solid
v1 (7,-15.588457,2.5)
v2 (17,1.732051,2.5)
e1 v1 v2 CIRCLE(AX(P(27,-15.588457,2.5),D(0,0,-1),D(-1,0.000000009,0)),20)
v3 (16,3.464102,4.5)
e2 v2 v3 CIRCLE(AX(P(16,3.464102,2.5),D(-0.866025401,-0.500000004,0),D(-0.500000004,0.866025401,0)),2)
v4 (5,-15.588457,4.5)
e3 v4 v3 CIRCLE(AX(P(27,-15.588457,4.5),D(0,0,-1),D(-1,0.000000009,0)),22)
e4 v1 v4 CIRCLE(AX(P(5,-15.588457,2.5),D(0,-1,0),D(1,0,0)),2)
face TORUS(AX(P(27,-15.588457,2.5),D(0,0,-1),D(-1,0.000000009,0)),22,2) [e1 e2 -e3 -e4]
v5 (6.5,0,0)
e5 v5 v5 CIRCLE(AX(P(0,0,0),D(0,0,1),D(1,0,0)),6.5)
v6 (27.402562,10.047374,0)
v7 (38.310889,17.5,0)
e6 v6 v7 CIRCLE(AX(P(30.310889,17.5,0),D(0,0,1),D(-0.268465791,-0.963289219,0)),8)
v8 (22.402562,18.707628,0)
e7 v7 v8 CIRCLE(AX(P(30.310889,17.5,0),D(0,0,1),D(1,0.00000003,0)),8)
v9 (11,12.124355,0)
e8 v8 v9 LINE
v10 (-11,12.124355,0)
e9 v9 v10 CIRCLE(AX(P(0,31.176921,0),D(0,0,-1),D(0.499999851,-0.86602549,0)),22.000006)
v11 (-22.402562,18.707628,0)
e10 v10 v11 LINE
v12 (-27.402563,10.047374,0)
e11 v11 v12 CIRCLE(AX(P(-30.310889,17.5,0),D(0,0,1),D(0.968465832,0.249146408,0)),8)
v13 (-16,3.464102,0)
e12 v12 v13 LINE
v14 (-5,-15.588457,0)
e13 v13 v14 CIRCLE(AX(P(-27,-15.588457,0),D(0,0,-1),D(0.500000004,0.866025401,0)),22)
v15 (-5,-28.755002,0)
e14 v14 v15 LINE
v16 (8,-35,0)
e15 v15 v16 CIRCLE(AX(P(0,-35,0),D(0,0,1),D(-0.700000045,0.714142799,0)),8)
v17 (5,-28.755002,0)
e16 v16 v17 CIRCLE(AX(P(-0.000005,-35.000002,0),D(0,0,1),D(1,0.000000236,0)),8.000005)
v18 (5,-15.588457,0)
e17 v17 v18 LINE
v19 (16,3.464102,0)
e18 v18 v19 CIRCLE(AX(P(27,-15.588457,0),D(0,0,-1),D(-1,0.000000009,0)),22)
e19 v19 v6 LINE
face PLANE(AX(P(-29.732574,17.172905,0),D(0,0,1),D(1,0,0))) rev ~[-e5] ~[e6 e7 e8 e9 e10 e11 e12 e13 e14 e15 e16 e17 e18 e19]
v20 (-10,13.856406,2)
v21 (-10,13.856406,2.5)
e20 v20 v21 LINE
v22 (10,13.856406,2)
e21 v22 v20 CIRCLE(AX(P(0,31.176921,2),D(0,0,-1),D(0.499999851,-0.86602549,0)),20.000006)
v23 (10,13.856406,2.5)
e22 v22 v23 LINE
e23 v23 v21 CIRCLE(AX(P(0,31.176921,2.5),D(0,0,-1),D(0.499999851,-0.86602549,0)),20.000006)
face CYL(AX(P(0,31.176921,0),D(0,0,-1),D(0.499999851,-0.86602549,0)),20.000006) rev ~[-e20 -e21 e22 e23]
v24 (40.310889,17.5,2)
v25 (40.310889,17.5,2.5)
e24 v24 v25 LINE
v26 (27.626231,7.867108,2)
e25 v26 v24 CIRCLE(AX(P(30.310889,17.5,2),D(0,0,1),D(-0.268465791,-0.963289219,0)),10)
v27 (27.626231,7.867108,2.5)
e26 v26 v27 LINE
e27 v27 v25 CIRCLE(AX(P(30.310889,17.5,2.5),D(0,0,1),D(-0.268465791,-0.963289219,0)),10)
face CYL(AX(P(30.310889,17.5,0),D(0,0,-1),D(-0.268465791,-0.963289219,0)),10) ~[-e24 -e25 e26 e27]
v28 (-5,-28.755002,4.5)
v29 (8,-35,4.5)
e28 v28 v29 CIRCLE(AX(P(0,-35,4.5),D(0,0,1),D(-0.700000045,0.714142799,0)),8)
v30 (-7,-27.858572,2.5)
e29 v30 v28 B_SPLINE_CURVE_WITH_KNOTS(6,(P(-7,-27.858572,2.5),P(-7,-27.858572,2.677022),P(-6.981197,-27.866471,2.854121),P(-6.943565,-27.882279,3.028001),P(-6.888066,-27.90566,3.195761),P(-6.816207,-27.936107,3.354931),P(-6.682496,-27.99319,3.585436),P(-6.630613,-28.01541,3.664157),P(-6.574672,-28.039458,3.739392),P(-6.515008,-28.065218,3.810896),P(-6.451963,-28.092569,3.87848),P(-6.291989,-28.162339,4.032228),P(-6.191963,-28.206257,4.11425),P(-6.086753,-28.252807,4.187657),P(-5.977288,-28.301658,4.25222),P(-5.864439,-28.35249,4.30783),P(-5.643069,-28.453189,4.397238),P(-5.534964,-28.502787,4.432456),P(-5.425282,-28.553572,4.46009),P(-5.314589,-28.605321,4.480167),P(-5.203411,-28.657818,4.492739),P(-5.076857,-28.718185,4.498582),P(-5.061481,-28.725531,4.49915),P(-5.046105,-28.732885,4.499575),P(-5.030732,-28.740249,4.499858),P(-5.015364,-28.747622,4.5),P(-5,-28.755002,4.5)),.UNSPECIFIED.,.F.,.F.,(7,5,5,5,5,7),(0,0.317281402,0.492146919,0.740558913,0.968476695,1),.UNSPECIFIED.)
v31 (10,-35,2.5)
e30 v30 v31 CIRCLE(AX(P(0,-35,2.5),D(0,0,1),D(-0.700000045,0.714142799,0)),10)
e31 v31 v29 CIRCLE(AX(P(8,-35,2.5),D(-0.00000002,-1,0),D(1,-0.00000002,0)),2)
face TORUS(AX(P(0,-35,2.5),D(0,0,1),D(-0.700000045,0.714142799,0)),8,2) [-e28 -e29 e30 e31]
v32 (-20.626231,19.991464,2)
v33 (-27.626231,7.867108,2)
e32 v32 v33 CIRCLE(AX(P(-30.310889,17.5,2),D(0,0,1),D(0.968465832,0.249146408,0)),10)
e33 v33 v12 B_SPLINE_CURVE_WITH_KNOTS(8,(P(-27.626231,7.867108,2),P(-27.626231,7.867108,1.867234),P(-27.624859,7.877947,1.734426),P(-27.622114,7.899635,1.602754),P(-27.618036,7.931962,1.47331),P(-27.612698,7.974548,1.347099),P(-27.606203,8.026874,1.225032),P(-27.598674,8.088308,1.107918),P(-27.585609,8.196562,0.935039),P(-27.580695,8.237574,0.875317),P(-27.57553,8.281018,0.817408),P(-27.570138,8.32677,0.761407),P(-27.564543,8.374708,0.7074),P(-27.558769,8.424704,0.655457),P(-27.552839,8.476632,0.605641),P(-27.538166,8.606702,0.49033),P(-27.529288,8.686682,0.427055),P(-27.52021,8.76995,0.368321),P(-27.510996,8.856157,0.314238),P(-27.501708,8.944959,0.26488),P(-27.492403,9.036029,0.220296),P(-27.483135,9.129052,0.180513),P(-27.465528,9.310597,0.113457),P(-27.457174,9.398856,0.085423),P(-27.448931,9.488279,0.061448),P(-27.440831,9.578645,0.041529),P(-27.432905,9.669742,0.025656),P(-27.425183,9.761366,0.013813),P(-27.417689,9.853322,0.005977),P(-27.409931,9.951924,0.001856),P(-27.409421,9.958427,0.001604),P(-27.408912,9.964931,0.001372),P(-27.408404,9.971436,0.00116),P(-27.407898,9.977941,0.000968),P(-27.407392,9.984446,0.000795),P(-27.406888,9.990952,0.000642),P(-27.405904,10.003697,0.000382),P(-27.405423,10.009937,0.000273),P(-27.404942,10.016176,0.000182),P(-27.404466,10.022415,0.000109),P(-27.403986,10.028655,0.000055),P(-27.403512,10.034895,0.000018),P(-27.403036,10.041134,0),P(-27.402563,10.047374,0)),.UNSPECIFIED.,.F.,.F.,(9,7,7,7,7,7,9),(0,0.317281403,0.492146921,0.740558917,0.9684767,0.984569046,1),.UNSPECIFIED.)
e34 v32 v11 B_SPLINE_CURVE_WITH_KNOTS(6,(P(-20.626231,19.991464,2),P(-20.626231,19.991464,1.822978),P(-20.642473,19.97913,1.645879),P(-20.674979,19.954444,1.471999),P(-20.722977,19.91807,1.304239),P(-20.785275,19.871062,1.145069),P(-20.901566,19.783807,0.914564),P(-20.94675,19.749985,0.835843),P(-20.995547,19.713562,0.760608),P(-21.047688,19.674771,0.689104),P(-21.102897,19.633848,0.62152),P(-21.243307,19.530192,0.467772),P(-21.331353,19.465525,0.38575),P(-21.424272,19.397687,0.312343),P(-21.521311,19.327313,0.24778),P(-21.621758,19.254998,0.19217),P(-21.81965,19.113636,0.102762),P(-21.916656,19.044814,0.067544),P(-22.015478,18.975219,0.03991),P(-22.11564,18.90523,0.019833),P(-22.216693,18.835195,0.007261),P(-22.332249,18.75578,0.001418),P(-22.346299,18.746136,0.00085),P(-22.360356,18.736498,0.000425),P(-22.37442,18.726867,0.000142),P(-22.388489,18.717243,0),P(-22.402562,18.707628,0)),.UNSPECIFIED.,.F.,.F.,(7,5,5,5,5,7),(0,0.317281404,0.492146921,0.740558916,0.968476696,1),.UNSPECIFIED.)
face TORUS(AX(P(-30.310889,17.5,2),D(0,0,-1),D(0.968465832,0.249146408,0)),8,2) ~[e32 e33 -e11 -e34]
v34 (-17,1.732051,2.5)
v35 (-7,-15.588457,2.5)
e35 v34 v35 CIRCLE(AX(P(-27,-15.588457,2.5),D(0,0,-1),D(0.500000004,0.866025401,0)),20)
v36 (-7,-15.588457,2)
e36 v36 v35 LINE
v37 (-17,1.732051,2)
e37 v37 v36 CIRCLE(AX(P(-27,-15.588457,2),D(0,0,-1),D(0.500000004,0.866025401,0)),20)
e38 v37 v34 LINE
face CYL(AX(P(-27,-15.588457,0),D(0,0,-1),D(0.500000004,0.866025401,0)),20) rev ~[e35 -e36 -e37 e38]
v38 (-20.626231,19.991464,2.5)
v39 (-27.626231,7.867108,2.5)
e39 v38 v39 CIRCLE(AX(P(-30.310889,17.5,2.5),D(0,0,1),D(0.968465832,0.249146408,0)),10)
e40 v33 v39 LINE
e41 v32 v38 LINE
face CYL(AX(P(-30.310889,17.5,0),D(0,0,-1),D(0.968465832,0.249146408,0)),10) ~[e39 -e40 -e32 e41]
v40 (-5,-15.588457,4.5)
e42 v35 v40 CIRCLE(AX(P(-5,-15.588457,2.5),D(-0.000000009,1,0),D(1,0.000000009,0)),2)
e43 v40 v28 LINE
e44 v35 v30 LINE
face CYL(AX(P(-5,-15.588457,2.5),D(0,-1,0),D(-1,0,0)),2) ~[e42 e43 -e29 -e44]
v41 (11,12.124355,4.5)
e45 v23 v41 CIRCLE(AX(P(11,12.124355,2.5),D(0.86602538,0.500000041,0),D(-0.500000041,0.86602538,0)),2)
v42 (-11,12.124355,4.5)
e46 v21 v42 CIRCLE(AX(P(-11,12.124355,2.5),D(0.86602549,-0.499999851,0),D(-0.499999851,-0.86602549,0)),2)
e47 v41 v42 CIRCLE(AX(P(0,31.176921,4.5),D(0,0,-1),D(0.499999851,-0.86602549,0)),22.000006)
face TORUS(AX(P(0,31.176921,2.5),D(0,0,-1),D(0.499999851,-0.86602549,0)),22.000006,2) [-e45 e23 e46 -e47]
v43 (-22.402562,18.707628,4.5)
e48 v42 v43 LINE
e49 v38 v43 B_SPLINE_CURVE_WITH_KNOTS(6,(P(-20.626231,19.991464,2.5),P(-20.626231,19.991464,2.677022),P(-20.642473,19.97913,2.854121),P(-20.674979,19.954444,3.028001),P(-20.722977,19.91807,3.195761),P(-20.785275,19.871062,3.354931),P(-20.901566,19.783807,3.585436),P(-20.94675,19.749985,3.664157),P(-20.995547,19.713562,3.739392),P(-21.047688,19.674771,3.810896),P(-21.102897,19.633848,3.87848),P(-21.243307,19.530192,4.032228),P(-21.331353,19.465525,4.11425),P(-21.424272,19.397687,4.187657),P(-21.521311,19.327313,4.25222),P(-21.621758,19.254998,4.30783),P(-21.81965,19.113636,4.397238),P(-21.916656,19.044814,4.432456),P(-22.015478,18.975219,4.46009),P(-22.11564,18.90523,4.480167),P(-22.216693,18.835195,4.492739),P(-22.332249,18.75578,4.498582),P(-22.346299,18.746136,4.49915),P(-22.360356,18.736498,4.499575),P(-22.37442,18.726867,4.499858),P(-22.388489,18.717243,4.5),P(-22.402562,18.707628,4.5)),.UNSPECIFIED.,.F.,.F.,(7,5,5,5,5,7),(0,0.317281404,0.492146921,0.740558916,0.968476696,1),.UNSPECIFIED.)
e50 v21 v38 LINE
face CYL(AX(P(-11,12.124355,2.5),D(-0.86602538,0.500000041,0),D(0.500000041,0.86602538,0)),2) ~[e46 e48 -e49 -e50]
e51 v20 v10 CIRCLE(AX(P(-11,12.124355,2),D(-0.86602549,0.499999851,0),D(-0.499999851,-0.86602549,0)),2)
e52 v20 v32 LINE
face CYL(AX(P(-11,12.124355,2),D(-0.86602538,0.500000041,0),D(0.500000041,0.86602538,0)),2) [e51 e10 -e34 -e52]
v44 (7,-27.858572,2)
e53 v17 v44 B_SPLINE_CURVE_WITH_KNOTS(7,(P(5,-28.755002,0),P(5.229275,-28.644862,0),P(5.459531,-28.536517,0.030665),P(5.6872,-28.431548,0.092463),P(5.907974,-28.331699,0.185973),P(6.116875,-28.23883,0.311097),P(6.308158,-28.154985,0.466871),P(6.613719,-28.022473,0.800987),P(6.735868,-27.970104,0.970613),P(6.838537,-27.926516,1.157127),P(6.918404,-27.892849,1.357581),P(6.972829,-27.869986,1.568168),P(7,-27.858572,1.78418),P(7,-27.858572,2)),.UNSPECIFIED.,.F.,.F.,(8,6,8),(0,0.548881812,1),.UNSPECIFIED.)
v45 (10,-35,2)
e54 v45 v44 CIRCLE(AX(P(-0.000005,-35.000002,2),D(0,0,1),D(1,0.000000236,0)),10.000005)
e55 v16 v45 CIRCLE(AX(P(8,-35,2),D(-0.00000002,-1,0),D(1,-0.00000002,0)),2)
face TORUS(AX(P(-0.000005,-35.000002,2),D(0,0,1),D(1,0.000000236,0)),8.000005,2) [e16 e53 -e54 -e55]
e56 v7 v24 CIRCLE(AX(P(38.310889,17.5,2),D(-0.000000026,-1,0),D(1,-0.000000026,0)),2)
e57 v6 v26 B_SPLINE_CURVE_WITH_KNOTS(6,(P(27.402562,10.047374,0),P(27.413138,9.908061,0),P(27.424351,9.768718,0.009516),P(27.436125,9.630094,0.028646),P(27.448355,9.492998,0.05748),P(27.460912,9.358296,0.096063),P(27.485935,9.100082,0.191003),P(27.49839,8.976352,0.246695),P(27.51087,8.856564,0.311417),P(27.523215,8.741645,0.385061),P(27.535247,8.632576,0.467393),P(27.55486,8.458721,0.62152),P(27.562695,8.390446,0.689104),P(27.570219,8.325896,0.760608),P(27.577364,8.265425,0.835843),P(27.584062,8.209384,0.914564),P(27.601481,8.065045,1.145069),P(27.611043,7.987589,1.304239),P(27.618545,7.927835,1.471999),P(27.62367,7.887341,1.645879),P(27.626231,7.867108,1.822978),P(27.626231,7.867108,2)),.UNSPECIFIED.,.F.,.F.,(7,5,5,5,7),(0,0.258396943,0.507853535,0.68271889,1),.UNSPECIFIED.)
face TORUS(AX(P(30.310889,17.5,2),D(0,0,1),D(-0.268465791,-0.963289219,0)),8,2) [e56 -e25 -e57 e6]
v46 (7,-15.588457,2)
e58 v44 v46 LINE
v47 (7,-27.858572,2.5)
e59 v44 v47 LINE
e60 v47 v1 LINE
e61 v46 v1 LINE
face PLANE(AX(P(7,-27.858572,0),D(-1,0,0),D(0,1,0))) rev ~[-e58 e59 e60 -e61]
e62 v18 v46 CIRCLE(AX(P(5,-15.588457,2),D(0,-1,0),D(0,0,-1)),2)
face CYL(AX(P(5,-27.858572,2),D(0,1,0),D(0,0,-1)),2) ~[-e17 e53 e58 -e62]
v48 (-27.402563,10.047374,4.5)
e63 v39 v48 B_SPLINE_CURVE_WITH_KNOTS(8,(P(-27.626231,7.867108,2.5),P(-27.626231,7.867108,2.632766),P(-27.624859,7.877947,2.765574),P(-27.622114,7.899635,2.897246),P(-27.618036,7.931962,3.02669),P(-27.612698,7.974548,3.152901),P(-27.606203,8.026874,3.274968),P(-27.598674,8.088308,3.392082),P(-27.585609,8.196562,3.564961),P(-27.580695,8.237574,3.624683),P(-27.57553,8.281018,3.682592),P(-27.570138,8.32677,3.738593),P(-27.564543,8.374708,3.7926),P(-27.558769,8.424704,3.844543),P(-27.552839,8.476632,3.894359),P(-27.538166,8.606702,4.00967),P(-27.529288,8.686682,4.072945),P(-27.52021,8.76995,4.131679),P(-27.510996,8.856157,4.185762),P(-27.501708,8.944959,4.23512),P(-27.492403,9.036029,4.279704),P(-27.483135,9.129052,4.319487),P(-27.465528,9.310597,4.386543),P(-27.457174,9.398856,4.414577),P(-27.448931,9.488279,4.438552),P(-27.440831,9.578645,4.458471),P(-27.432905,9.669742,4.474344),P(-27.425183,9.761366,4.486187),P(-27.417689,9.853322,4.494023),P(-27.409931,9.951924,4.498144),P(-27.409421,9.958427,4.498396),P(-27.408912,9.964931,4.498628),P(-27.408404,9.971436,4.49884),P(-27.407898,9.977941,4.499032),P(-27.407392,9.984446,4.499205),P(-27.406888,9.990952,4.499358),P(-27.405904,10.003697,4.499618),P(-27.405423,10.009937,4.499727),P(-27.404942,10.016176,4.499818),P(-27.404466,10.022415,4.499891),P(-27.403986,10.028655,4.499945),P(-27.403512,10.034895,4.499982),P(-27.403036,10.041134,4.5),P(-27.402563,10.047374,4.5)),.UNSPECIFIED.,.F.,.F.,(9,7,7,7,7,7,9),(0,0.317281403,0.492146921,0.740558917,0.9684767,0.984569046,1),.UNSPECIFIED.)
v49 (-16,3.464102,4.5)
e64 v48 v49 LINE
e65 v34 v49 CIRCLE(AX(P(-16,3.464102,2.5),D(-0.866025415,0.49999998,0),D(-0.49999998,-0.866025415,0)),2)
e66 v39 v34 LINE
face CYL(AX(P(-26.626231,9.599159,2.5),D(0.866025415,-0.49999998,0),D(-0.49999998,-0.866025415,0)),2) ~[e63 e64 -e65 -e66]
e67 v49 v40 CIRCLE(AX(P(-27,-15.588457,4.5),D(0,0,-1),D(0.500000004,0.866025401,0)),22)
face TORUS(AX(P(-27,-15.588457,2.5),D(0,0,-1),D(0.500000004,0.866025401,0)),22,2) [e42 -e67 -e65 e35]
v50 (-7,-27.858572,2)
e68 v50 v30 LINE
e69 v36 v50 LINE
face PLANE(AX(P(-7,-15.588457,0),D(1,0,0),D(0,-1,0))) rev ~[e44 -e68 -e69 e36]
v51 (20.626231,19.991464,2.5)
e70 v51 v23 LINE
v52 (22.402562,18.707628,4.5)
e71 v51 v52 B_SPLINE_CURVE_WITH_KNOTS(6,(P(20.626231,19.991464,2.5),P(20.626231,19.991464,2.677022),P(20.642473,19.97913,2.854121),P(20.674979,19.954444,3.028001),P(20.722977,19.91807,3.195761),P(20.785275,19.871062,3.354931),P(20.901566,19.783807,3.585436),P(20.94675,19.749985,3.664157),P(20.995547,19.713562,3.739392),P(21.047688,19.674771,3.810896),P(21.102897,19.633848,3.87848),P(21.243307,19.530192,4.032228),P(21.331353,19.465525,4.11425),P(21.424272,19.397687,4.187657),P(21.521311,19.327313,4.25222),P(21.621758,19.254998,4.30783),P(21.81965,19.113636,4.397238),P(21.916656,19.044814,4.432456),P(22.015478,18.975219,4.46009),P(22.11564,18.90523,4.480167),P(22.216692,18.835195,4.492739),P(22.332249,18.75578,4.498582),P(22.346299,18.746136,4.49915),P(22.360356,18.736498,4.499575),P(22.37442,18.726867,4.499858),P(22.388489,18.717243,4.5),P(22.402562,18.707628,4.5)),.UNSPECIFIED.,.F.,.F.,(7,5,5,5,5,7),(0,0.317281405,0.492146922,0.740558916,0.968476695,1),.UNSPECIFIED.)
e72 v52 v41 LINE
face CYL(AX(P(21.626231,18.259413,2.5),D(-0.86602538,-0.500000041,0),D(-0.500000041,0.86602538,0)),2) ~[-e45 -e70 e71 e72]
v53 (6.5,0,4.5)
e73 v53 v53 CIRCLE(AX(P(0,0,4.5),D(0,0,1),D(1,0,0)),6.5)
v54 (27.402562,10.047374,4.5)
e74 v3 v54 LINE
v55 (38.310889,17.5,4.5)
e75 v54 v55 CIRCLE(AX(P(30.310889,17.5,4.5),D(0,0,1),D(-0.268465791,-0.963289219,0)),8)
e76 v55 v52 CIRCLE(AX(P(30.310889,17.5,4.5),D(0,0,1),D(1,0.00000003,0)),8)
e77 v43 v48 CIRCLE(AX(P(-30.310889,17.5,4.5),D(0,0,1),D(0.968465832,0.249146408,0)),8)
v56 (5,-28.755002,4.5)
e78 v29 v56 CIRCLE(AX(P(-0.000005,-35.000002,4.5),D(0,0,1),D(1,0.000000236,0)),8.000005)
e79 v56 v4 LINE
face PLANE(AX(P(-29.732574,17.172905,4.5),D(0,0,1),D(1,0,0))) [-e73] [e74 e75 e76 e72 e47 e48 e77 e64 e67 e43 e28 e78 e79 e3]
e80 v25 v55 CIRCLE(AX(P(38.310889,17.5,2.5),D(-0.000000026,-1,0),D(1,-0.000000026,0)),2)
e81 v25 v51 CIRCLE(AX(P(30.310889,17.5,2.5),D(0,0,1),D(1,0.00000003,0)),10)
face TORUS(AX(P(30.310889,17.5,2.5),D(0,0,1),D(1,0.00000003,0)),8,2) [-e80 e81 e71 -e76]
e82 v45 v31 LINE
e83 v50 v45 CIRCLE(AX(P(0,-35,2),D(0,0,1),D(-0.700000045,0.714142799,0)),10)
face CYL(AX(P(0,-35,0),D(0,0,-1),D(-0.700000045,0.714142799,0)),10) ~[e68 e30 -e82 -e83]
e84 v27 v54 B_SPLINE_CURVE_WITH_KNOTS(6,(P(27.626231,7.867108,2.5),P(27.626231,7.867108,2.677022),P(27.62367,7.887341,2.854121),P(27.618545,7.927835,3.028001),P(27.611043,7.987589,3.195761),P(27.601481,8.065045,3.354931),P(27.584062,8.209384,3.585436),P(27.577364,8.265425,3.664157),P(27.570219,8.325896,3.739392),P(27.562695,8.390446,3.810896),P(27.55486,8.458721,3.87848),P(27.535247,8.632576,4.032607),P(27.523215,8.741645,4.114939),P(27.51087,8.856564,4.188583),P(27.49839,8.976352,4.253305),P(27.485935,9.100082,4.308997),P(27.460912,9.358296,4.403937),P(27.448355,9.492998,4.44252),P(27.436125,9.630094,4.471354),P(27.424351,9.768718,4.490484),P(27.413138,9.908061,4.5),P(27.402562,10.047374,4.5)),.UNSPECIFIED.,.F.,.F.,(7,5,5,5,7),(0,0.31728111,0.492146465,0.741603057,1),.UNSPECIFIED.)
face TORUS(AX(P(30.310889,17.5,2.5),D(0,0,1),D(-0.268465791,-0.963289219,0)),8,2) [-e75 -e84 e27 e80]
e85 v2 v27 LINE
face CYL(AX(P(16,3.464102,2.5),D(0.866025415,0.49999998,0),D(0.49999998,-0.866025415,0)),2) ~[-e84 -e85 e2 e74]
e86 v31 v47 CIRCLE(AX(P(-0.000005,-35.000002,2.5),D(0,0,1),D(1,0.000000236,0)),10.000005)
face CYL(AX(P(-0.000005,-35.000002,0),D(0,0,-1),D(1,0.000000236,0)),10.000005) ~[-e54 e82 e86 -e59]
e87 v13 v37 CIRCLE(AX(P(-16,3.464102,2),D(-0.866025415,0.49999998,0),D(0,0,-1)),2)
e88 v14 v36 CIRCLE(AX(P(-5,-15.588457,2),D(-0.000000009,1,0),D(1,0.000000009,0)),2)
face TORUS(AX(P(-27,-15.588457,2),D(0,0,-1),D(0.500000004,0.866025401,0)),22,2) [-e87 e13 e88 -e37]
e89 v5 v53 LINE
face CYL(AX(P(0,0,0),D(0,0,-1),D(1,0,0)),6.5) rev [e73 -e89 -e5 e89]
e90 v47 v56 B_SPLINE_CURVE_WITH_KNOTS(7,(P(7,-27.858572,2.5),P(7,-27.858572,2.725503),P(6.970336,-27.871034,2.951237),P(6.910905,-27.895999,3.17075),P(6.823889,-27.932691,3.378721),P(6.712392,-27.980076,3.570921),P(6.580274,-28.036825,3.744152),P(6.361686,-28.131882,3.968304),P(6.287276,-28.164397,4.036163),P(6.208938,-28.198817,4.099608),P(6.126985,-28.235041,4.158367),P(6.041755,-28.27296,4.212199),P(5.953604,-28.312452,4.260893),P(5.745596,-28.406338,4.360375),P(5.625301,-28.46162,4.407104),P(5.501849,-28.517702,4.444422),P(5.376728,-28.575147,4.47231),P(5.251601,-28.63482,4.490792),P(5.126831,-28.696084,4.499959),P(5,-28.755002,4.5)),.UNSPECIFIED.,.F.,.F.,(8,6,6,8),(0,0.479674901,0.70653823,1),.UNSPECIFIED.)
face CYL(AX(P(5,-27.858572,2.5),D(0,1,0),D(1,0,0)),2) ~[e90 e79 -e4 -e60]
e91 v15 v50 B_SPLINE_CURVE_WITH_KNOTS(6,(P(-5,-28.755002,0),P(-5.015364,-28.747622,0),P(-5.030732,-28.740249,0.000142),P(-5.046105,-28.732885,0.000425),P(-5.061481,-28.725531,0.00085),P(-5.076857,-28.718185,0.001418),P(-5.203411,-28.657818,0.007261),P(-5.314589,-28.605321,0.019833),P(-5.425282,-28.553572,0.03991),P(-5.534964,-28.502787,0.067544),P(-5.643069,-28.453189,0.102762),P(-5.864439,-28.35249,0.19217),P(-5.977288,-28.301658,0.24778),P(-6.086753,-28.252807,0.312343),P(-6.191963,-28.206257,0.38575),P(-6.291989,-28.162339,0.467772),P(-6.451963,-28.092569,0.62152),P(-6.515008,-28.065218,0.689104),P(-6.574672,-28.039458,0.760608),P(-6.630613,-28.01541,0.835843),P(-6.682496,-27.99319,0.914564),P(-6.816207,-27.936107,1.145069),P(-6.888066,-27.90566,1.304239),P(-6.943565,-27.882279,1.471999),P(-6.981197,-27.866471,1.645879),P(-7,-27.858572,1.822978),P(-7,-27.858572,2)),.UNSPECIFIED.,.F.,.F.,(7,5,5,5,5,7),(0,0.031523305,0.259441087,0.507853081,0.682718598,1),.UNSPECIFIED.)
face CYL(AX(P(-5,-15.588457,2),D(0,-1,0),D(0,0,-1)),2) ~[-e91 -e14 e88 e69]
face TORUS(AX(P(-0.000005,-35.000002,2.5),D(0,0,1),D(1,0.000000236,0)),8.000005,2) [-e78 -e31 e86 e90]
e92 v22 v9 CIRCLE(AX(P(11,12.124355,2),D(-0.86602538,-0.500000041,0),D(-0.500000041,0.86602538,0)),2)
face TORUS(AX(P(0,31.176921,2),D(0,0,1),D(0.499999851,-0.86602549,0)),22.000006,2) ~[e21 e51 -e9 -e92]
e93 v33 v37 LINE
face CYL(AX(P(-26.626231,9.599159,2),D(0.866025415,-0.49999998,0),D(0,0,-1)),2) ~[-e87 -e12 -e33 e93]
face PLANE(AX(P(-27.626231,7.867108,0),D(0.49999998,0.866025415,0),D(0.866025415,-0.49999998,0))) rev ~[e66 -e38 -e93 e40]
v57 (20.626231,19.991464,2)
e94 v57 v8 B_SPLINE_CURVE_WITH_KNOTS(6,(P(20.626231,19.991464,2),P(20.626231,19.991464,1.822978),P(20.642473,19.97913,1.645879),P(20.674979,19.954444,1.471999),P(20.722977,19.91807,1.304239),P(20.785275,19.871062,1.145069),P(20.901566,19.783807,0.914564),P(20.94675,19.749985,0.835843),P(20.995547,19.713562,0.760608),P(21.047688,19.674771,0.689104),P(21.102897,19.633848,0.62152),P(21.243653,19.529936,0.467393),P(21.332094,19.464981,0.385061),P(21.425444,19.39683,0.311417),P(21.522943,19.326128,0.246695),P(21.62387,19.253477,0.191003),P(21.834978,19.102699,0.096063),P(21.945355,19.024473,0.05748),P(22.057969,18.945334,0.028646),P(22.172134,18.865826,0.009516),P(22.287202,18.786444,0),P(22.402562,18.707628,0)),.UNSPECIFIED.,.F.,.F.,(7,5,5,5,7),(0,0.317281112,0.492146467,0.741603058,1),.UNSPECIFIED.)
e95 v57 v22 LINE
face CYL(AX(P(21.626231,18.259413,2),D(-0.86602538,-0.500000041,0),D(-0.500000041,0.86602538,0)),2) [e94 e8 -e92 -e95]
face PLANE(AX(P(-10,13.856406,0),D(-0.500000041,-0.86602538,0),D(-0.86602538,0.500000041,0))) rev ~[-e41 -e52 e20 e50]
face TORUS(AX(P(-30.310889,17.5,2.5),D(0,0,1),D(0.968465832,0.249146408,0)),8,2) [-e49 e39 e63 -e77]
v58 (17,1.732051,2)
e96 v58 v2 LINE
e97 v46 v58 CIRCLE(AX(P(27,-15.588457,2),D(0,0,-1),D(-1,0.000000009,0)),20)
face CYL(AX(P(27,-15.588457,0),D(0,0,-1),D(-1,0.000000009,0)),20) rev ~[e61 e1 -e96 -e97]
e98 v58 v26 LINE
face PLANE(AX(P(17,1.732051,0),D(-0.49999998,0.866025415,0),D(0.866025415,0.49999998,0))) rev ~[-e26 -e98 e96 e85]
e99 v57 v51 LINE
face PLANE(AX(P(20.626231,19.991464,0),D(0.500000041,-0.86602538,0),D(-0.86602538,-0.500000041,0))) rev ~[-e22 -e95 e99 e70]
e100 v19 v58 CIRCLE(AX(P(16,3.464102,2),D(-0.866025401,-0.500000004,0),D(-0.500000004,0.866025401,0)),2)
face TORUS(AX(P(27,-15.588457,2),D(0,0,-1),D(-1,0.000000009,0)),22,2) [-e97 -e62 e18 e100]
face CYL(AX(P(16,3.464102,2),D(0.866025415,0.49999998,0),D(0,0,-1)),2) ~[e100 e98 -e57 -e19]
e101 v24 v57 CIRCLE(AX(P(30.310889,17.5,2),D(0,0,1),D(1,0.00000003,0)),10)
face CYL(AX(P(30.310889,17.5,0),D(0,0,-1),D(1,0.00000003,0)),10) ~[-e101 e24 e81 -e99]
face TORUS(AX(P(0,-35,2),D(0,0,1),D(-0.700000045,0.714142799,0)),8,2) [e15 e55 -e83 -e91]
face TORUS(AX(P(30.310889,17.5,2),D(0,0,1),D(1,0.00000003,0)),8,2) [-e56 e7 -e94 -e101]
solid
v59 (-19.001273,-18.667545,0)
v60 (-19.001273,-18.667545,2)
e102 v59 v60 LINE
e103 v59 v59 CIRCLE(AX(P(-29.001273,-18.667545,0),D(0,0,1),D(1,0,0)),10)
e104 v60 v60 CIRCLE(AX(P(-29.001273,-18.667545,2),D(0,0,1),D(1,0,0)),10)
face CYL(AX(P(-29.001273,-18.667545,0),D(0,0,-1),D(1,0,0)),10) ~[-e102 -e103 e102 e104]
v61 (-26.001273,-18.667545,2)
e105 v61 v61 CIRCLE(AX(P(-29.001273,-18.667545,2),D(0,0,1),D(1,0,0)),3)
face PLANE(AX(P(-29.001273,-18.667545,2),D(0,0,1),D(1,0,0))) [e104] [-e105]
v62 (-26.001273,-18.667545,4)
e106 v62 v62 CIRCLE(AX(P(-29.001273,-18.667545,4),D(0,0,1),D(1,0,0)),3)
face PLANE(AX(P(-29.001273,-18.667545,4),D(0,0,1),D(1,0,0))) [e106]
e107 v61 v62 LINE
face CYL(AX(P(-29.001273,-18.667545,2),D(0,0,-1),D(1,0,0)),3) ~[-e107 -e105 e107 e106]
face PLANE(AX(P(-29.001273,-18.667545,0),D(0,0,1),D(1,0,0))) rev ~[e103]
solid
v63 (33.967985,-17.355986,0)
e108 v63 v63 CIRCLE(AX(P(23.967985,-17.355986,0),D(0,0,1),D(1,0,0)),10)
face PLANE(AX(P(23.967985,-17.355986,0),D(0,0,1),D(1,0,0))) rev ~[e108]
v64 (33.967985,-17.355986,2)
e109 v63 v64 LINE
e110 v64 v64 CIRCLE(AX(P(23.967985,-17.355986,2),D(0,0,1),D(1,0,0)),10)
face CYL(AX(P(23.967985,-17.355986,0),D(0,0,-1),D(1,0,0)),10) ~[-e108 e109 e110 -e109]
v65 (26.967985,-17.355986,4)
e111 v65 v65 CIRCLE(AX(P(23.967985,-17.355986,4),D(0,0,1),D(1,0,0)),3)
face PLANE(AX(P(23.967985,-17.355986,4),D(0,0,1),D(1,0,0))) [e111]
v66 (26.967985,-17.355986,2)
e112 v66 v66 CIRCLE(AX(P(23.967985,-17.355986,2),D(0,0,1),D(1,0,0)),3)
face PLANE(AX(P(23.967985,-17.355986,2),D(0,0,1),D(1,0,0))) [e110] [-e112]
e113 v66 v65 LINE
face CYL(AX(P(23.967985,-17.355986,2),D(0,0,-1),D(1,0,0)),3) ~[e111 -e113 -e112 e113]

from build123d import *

# Parameters (mm, degrees)
F0_R     = 6.5
F1_DEPTH = 4.5
F2_R     = 2
F3_R     = 2
F0_R_2   = 10
F4_DEPTH = 2
F5_R     = 3
F6_DEPTH = 2
F7_R     = 3
F8_DEPTH = 2


with BuildPart() as f1:
    # F0 (on Top) → F1 (new body)
    with BuildSketch(Plane.XY):
        with BuildLine():
            ThreePointArc((-20.310889, 17.5), (-20.390038, 18.75567), (-20.626231, 19.991464))
            ThreePointArc((-20.626231, 19.991464), (-38.971143, 22.5), (-27.626231, 7.867108))
            ThreePointArc((-27.626231, 7.867108), (-22.347015, 11.452132), (-20.310889, 17.5))
        make_face()
        with BuildLine():
            ThreePointArc((10, -35), (9.219544, -31.127017), (7, -27.858572))
            ThreePointArc((7, -27.858572), (0, -25), (-7, -27.858572))
            ThreePointArc((-7, -27.858572), (-3.872983, -44.219544), (10, -35))
        make_face()
        with BuildLine():
            ThreePointArc((27.626231, 7.867108), (36.358757, 9.536126), (40.310889, 17.5))
            ThreePointArc((40.310889, 17.5), (31.566559, 27.420851), (20.626231, 19.991464))
            ThreePointArc((20.626231, 19.991464), (21.650635, 12.5), (27.626231, 7.867108))
        make_face()
        with BuildLine():
            ThreePointArc((27.626231, 7.867108), (21.650635, 12.5), (20.626231, 19.991464))
            Line((20.626231, 19.991464), (10, 13.856406))
            ThreePointArc((10, 13.856406), (0, 11.176915), (-10, 13.856406))
            Line((-10, 13.856406), (-20.626231, 19.991464))
            ThreePointArc((-20.626231, 19.991464), (-20.390038, 18.75567), (-20.310889, 17.5))
            ThreePointArc((-20.310889, 17.5), (-22.347015, 11.452132), (-27.626231, 7.867108))
            Line((-27.626231, 7.867108), (-17, 1.732051))
            ThreePointArc((-17, 1.732051), (-9.679492, -5.588457), (-7, -15.588457))
            Line((-7, -15.588457), (-7, -27.858572))
            ThreePointArc((-7, -27.858572), (0, -25), (7, -27.858572))
            Line((7, -27.858572), (7, -15.588457))
            ThreePointArc((7, -15.588457), (9.679492, -5.588457), (17, 1.732051))
            Line((17, 1.732051), (27.626231, 7.867108))
        make_face()
        Circle(F0_R, mode=Mode.SUBTRACT)
    extrude(amount=F1_DEPTH)

    # F2
    f2_edges = [f1.edges().sort_by_distance(p)[0] for p in [
        (-3.872983, -44.219544, 4.5),
        (7, -21.723514, 4.5),
        (9.679492, -5.588457, 4.5),
        (22.313115, 4.799579, 4.5),
        (38.971143, 22.5, 4.5),
        (15.313115, 16.923935, 4.5),
        (0, 11.176915, 4.5),
        (-15.313115, 16.923935, 4.5),
        (-38.971143, 22.5, 4.5),
        (-22.313115, 4.799579, 4.5),
        (-9.679492, -5.588457, 4.5),
        (-7, -21.723514, 4.5),
    ]]
    fillet(f2_edges, radius=F2_R)

    # F3
    f3_edges = [f1.edges().sort_by_distance(p)[0] for p in [
        (-38.971143, 22.5, 0),
        (-22.313115, 4.799579, 0),
        (-9.679492, -5.588457, 0),
        (-7, -21.723514, 0),
        (-3.872983, -44.219544, 0),
        (7, -21.723514, 0),
        (9.679492, -5.588457, 0),
        (-15.313115, 16.923935, 0),
        (0, 11.176915, 0),
        (15.313115, 16.923935, 0),
        (22.313115, 4.799579, 0),
        (38.971143, 22.5, 0),
    ]]
    fillet(f3_edges, radius=F3_R)


with BuildPart() as f4:
    # F0 (on Top) → F4 (new body)
    with BuildSketch(Plane.XY):
        with Locations((-29.001273, -18.667545)):
            Circle(F0_R_2)
        with Locations((23.967985, -17.355986)):
            Circle(F0_R_2)
    extrude(amount=F4_DEPTH)

    # F5 (on face) → F6 (join)
    with BuildSketch(Plane.XY.offset(2)):
        with Locations((-29.001273, -18.667545)):
            Circle(F5_R)
    extrude(amount=F6_DEPTH)

    # F7 (on face) → F8 (join)
    with BuildSketch(Plane.XY.offset(2)):
        with Locations((23.967985, -17.355986)):
            Circle(F7_R)
    extrude(amount=F8_DEPTH)


solid = Compound([f1.part, f4.part])
